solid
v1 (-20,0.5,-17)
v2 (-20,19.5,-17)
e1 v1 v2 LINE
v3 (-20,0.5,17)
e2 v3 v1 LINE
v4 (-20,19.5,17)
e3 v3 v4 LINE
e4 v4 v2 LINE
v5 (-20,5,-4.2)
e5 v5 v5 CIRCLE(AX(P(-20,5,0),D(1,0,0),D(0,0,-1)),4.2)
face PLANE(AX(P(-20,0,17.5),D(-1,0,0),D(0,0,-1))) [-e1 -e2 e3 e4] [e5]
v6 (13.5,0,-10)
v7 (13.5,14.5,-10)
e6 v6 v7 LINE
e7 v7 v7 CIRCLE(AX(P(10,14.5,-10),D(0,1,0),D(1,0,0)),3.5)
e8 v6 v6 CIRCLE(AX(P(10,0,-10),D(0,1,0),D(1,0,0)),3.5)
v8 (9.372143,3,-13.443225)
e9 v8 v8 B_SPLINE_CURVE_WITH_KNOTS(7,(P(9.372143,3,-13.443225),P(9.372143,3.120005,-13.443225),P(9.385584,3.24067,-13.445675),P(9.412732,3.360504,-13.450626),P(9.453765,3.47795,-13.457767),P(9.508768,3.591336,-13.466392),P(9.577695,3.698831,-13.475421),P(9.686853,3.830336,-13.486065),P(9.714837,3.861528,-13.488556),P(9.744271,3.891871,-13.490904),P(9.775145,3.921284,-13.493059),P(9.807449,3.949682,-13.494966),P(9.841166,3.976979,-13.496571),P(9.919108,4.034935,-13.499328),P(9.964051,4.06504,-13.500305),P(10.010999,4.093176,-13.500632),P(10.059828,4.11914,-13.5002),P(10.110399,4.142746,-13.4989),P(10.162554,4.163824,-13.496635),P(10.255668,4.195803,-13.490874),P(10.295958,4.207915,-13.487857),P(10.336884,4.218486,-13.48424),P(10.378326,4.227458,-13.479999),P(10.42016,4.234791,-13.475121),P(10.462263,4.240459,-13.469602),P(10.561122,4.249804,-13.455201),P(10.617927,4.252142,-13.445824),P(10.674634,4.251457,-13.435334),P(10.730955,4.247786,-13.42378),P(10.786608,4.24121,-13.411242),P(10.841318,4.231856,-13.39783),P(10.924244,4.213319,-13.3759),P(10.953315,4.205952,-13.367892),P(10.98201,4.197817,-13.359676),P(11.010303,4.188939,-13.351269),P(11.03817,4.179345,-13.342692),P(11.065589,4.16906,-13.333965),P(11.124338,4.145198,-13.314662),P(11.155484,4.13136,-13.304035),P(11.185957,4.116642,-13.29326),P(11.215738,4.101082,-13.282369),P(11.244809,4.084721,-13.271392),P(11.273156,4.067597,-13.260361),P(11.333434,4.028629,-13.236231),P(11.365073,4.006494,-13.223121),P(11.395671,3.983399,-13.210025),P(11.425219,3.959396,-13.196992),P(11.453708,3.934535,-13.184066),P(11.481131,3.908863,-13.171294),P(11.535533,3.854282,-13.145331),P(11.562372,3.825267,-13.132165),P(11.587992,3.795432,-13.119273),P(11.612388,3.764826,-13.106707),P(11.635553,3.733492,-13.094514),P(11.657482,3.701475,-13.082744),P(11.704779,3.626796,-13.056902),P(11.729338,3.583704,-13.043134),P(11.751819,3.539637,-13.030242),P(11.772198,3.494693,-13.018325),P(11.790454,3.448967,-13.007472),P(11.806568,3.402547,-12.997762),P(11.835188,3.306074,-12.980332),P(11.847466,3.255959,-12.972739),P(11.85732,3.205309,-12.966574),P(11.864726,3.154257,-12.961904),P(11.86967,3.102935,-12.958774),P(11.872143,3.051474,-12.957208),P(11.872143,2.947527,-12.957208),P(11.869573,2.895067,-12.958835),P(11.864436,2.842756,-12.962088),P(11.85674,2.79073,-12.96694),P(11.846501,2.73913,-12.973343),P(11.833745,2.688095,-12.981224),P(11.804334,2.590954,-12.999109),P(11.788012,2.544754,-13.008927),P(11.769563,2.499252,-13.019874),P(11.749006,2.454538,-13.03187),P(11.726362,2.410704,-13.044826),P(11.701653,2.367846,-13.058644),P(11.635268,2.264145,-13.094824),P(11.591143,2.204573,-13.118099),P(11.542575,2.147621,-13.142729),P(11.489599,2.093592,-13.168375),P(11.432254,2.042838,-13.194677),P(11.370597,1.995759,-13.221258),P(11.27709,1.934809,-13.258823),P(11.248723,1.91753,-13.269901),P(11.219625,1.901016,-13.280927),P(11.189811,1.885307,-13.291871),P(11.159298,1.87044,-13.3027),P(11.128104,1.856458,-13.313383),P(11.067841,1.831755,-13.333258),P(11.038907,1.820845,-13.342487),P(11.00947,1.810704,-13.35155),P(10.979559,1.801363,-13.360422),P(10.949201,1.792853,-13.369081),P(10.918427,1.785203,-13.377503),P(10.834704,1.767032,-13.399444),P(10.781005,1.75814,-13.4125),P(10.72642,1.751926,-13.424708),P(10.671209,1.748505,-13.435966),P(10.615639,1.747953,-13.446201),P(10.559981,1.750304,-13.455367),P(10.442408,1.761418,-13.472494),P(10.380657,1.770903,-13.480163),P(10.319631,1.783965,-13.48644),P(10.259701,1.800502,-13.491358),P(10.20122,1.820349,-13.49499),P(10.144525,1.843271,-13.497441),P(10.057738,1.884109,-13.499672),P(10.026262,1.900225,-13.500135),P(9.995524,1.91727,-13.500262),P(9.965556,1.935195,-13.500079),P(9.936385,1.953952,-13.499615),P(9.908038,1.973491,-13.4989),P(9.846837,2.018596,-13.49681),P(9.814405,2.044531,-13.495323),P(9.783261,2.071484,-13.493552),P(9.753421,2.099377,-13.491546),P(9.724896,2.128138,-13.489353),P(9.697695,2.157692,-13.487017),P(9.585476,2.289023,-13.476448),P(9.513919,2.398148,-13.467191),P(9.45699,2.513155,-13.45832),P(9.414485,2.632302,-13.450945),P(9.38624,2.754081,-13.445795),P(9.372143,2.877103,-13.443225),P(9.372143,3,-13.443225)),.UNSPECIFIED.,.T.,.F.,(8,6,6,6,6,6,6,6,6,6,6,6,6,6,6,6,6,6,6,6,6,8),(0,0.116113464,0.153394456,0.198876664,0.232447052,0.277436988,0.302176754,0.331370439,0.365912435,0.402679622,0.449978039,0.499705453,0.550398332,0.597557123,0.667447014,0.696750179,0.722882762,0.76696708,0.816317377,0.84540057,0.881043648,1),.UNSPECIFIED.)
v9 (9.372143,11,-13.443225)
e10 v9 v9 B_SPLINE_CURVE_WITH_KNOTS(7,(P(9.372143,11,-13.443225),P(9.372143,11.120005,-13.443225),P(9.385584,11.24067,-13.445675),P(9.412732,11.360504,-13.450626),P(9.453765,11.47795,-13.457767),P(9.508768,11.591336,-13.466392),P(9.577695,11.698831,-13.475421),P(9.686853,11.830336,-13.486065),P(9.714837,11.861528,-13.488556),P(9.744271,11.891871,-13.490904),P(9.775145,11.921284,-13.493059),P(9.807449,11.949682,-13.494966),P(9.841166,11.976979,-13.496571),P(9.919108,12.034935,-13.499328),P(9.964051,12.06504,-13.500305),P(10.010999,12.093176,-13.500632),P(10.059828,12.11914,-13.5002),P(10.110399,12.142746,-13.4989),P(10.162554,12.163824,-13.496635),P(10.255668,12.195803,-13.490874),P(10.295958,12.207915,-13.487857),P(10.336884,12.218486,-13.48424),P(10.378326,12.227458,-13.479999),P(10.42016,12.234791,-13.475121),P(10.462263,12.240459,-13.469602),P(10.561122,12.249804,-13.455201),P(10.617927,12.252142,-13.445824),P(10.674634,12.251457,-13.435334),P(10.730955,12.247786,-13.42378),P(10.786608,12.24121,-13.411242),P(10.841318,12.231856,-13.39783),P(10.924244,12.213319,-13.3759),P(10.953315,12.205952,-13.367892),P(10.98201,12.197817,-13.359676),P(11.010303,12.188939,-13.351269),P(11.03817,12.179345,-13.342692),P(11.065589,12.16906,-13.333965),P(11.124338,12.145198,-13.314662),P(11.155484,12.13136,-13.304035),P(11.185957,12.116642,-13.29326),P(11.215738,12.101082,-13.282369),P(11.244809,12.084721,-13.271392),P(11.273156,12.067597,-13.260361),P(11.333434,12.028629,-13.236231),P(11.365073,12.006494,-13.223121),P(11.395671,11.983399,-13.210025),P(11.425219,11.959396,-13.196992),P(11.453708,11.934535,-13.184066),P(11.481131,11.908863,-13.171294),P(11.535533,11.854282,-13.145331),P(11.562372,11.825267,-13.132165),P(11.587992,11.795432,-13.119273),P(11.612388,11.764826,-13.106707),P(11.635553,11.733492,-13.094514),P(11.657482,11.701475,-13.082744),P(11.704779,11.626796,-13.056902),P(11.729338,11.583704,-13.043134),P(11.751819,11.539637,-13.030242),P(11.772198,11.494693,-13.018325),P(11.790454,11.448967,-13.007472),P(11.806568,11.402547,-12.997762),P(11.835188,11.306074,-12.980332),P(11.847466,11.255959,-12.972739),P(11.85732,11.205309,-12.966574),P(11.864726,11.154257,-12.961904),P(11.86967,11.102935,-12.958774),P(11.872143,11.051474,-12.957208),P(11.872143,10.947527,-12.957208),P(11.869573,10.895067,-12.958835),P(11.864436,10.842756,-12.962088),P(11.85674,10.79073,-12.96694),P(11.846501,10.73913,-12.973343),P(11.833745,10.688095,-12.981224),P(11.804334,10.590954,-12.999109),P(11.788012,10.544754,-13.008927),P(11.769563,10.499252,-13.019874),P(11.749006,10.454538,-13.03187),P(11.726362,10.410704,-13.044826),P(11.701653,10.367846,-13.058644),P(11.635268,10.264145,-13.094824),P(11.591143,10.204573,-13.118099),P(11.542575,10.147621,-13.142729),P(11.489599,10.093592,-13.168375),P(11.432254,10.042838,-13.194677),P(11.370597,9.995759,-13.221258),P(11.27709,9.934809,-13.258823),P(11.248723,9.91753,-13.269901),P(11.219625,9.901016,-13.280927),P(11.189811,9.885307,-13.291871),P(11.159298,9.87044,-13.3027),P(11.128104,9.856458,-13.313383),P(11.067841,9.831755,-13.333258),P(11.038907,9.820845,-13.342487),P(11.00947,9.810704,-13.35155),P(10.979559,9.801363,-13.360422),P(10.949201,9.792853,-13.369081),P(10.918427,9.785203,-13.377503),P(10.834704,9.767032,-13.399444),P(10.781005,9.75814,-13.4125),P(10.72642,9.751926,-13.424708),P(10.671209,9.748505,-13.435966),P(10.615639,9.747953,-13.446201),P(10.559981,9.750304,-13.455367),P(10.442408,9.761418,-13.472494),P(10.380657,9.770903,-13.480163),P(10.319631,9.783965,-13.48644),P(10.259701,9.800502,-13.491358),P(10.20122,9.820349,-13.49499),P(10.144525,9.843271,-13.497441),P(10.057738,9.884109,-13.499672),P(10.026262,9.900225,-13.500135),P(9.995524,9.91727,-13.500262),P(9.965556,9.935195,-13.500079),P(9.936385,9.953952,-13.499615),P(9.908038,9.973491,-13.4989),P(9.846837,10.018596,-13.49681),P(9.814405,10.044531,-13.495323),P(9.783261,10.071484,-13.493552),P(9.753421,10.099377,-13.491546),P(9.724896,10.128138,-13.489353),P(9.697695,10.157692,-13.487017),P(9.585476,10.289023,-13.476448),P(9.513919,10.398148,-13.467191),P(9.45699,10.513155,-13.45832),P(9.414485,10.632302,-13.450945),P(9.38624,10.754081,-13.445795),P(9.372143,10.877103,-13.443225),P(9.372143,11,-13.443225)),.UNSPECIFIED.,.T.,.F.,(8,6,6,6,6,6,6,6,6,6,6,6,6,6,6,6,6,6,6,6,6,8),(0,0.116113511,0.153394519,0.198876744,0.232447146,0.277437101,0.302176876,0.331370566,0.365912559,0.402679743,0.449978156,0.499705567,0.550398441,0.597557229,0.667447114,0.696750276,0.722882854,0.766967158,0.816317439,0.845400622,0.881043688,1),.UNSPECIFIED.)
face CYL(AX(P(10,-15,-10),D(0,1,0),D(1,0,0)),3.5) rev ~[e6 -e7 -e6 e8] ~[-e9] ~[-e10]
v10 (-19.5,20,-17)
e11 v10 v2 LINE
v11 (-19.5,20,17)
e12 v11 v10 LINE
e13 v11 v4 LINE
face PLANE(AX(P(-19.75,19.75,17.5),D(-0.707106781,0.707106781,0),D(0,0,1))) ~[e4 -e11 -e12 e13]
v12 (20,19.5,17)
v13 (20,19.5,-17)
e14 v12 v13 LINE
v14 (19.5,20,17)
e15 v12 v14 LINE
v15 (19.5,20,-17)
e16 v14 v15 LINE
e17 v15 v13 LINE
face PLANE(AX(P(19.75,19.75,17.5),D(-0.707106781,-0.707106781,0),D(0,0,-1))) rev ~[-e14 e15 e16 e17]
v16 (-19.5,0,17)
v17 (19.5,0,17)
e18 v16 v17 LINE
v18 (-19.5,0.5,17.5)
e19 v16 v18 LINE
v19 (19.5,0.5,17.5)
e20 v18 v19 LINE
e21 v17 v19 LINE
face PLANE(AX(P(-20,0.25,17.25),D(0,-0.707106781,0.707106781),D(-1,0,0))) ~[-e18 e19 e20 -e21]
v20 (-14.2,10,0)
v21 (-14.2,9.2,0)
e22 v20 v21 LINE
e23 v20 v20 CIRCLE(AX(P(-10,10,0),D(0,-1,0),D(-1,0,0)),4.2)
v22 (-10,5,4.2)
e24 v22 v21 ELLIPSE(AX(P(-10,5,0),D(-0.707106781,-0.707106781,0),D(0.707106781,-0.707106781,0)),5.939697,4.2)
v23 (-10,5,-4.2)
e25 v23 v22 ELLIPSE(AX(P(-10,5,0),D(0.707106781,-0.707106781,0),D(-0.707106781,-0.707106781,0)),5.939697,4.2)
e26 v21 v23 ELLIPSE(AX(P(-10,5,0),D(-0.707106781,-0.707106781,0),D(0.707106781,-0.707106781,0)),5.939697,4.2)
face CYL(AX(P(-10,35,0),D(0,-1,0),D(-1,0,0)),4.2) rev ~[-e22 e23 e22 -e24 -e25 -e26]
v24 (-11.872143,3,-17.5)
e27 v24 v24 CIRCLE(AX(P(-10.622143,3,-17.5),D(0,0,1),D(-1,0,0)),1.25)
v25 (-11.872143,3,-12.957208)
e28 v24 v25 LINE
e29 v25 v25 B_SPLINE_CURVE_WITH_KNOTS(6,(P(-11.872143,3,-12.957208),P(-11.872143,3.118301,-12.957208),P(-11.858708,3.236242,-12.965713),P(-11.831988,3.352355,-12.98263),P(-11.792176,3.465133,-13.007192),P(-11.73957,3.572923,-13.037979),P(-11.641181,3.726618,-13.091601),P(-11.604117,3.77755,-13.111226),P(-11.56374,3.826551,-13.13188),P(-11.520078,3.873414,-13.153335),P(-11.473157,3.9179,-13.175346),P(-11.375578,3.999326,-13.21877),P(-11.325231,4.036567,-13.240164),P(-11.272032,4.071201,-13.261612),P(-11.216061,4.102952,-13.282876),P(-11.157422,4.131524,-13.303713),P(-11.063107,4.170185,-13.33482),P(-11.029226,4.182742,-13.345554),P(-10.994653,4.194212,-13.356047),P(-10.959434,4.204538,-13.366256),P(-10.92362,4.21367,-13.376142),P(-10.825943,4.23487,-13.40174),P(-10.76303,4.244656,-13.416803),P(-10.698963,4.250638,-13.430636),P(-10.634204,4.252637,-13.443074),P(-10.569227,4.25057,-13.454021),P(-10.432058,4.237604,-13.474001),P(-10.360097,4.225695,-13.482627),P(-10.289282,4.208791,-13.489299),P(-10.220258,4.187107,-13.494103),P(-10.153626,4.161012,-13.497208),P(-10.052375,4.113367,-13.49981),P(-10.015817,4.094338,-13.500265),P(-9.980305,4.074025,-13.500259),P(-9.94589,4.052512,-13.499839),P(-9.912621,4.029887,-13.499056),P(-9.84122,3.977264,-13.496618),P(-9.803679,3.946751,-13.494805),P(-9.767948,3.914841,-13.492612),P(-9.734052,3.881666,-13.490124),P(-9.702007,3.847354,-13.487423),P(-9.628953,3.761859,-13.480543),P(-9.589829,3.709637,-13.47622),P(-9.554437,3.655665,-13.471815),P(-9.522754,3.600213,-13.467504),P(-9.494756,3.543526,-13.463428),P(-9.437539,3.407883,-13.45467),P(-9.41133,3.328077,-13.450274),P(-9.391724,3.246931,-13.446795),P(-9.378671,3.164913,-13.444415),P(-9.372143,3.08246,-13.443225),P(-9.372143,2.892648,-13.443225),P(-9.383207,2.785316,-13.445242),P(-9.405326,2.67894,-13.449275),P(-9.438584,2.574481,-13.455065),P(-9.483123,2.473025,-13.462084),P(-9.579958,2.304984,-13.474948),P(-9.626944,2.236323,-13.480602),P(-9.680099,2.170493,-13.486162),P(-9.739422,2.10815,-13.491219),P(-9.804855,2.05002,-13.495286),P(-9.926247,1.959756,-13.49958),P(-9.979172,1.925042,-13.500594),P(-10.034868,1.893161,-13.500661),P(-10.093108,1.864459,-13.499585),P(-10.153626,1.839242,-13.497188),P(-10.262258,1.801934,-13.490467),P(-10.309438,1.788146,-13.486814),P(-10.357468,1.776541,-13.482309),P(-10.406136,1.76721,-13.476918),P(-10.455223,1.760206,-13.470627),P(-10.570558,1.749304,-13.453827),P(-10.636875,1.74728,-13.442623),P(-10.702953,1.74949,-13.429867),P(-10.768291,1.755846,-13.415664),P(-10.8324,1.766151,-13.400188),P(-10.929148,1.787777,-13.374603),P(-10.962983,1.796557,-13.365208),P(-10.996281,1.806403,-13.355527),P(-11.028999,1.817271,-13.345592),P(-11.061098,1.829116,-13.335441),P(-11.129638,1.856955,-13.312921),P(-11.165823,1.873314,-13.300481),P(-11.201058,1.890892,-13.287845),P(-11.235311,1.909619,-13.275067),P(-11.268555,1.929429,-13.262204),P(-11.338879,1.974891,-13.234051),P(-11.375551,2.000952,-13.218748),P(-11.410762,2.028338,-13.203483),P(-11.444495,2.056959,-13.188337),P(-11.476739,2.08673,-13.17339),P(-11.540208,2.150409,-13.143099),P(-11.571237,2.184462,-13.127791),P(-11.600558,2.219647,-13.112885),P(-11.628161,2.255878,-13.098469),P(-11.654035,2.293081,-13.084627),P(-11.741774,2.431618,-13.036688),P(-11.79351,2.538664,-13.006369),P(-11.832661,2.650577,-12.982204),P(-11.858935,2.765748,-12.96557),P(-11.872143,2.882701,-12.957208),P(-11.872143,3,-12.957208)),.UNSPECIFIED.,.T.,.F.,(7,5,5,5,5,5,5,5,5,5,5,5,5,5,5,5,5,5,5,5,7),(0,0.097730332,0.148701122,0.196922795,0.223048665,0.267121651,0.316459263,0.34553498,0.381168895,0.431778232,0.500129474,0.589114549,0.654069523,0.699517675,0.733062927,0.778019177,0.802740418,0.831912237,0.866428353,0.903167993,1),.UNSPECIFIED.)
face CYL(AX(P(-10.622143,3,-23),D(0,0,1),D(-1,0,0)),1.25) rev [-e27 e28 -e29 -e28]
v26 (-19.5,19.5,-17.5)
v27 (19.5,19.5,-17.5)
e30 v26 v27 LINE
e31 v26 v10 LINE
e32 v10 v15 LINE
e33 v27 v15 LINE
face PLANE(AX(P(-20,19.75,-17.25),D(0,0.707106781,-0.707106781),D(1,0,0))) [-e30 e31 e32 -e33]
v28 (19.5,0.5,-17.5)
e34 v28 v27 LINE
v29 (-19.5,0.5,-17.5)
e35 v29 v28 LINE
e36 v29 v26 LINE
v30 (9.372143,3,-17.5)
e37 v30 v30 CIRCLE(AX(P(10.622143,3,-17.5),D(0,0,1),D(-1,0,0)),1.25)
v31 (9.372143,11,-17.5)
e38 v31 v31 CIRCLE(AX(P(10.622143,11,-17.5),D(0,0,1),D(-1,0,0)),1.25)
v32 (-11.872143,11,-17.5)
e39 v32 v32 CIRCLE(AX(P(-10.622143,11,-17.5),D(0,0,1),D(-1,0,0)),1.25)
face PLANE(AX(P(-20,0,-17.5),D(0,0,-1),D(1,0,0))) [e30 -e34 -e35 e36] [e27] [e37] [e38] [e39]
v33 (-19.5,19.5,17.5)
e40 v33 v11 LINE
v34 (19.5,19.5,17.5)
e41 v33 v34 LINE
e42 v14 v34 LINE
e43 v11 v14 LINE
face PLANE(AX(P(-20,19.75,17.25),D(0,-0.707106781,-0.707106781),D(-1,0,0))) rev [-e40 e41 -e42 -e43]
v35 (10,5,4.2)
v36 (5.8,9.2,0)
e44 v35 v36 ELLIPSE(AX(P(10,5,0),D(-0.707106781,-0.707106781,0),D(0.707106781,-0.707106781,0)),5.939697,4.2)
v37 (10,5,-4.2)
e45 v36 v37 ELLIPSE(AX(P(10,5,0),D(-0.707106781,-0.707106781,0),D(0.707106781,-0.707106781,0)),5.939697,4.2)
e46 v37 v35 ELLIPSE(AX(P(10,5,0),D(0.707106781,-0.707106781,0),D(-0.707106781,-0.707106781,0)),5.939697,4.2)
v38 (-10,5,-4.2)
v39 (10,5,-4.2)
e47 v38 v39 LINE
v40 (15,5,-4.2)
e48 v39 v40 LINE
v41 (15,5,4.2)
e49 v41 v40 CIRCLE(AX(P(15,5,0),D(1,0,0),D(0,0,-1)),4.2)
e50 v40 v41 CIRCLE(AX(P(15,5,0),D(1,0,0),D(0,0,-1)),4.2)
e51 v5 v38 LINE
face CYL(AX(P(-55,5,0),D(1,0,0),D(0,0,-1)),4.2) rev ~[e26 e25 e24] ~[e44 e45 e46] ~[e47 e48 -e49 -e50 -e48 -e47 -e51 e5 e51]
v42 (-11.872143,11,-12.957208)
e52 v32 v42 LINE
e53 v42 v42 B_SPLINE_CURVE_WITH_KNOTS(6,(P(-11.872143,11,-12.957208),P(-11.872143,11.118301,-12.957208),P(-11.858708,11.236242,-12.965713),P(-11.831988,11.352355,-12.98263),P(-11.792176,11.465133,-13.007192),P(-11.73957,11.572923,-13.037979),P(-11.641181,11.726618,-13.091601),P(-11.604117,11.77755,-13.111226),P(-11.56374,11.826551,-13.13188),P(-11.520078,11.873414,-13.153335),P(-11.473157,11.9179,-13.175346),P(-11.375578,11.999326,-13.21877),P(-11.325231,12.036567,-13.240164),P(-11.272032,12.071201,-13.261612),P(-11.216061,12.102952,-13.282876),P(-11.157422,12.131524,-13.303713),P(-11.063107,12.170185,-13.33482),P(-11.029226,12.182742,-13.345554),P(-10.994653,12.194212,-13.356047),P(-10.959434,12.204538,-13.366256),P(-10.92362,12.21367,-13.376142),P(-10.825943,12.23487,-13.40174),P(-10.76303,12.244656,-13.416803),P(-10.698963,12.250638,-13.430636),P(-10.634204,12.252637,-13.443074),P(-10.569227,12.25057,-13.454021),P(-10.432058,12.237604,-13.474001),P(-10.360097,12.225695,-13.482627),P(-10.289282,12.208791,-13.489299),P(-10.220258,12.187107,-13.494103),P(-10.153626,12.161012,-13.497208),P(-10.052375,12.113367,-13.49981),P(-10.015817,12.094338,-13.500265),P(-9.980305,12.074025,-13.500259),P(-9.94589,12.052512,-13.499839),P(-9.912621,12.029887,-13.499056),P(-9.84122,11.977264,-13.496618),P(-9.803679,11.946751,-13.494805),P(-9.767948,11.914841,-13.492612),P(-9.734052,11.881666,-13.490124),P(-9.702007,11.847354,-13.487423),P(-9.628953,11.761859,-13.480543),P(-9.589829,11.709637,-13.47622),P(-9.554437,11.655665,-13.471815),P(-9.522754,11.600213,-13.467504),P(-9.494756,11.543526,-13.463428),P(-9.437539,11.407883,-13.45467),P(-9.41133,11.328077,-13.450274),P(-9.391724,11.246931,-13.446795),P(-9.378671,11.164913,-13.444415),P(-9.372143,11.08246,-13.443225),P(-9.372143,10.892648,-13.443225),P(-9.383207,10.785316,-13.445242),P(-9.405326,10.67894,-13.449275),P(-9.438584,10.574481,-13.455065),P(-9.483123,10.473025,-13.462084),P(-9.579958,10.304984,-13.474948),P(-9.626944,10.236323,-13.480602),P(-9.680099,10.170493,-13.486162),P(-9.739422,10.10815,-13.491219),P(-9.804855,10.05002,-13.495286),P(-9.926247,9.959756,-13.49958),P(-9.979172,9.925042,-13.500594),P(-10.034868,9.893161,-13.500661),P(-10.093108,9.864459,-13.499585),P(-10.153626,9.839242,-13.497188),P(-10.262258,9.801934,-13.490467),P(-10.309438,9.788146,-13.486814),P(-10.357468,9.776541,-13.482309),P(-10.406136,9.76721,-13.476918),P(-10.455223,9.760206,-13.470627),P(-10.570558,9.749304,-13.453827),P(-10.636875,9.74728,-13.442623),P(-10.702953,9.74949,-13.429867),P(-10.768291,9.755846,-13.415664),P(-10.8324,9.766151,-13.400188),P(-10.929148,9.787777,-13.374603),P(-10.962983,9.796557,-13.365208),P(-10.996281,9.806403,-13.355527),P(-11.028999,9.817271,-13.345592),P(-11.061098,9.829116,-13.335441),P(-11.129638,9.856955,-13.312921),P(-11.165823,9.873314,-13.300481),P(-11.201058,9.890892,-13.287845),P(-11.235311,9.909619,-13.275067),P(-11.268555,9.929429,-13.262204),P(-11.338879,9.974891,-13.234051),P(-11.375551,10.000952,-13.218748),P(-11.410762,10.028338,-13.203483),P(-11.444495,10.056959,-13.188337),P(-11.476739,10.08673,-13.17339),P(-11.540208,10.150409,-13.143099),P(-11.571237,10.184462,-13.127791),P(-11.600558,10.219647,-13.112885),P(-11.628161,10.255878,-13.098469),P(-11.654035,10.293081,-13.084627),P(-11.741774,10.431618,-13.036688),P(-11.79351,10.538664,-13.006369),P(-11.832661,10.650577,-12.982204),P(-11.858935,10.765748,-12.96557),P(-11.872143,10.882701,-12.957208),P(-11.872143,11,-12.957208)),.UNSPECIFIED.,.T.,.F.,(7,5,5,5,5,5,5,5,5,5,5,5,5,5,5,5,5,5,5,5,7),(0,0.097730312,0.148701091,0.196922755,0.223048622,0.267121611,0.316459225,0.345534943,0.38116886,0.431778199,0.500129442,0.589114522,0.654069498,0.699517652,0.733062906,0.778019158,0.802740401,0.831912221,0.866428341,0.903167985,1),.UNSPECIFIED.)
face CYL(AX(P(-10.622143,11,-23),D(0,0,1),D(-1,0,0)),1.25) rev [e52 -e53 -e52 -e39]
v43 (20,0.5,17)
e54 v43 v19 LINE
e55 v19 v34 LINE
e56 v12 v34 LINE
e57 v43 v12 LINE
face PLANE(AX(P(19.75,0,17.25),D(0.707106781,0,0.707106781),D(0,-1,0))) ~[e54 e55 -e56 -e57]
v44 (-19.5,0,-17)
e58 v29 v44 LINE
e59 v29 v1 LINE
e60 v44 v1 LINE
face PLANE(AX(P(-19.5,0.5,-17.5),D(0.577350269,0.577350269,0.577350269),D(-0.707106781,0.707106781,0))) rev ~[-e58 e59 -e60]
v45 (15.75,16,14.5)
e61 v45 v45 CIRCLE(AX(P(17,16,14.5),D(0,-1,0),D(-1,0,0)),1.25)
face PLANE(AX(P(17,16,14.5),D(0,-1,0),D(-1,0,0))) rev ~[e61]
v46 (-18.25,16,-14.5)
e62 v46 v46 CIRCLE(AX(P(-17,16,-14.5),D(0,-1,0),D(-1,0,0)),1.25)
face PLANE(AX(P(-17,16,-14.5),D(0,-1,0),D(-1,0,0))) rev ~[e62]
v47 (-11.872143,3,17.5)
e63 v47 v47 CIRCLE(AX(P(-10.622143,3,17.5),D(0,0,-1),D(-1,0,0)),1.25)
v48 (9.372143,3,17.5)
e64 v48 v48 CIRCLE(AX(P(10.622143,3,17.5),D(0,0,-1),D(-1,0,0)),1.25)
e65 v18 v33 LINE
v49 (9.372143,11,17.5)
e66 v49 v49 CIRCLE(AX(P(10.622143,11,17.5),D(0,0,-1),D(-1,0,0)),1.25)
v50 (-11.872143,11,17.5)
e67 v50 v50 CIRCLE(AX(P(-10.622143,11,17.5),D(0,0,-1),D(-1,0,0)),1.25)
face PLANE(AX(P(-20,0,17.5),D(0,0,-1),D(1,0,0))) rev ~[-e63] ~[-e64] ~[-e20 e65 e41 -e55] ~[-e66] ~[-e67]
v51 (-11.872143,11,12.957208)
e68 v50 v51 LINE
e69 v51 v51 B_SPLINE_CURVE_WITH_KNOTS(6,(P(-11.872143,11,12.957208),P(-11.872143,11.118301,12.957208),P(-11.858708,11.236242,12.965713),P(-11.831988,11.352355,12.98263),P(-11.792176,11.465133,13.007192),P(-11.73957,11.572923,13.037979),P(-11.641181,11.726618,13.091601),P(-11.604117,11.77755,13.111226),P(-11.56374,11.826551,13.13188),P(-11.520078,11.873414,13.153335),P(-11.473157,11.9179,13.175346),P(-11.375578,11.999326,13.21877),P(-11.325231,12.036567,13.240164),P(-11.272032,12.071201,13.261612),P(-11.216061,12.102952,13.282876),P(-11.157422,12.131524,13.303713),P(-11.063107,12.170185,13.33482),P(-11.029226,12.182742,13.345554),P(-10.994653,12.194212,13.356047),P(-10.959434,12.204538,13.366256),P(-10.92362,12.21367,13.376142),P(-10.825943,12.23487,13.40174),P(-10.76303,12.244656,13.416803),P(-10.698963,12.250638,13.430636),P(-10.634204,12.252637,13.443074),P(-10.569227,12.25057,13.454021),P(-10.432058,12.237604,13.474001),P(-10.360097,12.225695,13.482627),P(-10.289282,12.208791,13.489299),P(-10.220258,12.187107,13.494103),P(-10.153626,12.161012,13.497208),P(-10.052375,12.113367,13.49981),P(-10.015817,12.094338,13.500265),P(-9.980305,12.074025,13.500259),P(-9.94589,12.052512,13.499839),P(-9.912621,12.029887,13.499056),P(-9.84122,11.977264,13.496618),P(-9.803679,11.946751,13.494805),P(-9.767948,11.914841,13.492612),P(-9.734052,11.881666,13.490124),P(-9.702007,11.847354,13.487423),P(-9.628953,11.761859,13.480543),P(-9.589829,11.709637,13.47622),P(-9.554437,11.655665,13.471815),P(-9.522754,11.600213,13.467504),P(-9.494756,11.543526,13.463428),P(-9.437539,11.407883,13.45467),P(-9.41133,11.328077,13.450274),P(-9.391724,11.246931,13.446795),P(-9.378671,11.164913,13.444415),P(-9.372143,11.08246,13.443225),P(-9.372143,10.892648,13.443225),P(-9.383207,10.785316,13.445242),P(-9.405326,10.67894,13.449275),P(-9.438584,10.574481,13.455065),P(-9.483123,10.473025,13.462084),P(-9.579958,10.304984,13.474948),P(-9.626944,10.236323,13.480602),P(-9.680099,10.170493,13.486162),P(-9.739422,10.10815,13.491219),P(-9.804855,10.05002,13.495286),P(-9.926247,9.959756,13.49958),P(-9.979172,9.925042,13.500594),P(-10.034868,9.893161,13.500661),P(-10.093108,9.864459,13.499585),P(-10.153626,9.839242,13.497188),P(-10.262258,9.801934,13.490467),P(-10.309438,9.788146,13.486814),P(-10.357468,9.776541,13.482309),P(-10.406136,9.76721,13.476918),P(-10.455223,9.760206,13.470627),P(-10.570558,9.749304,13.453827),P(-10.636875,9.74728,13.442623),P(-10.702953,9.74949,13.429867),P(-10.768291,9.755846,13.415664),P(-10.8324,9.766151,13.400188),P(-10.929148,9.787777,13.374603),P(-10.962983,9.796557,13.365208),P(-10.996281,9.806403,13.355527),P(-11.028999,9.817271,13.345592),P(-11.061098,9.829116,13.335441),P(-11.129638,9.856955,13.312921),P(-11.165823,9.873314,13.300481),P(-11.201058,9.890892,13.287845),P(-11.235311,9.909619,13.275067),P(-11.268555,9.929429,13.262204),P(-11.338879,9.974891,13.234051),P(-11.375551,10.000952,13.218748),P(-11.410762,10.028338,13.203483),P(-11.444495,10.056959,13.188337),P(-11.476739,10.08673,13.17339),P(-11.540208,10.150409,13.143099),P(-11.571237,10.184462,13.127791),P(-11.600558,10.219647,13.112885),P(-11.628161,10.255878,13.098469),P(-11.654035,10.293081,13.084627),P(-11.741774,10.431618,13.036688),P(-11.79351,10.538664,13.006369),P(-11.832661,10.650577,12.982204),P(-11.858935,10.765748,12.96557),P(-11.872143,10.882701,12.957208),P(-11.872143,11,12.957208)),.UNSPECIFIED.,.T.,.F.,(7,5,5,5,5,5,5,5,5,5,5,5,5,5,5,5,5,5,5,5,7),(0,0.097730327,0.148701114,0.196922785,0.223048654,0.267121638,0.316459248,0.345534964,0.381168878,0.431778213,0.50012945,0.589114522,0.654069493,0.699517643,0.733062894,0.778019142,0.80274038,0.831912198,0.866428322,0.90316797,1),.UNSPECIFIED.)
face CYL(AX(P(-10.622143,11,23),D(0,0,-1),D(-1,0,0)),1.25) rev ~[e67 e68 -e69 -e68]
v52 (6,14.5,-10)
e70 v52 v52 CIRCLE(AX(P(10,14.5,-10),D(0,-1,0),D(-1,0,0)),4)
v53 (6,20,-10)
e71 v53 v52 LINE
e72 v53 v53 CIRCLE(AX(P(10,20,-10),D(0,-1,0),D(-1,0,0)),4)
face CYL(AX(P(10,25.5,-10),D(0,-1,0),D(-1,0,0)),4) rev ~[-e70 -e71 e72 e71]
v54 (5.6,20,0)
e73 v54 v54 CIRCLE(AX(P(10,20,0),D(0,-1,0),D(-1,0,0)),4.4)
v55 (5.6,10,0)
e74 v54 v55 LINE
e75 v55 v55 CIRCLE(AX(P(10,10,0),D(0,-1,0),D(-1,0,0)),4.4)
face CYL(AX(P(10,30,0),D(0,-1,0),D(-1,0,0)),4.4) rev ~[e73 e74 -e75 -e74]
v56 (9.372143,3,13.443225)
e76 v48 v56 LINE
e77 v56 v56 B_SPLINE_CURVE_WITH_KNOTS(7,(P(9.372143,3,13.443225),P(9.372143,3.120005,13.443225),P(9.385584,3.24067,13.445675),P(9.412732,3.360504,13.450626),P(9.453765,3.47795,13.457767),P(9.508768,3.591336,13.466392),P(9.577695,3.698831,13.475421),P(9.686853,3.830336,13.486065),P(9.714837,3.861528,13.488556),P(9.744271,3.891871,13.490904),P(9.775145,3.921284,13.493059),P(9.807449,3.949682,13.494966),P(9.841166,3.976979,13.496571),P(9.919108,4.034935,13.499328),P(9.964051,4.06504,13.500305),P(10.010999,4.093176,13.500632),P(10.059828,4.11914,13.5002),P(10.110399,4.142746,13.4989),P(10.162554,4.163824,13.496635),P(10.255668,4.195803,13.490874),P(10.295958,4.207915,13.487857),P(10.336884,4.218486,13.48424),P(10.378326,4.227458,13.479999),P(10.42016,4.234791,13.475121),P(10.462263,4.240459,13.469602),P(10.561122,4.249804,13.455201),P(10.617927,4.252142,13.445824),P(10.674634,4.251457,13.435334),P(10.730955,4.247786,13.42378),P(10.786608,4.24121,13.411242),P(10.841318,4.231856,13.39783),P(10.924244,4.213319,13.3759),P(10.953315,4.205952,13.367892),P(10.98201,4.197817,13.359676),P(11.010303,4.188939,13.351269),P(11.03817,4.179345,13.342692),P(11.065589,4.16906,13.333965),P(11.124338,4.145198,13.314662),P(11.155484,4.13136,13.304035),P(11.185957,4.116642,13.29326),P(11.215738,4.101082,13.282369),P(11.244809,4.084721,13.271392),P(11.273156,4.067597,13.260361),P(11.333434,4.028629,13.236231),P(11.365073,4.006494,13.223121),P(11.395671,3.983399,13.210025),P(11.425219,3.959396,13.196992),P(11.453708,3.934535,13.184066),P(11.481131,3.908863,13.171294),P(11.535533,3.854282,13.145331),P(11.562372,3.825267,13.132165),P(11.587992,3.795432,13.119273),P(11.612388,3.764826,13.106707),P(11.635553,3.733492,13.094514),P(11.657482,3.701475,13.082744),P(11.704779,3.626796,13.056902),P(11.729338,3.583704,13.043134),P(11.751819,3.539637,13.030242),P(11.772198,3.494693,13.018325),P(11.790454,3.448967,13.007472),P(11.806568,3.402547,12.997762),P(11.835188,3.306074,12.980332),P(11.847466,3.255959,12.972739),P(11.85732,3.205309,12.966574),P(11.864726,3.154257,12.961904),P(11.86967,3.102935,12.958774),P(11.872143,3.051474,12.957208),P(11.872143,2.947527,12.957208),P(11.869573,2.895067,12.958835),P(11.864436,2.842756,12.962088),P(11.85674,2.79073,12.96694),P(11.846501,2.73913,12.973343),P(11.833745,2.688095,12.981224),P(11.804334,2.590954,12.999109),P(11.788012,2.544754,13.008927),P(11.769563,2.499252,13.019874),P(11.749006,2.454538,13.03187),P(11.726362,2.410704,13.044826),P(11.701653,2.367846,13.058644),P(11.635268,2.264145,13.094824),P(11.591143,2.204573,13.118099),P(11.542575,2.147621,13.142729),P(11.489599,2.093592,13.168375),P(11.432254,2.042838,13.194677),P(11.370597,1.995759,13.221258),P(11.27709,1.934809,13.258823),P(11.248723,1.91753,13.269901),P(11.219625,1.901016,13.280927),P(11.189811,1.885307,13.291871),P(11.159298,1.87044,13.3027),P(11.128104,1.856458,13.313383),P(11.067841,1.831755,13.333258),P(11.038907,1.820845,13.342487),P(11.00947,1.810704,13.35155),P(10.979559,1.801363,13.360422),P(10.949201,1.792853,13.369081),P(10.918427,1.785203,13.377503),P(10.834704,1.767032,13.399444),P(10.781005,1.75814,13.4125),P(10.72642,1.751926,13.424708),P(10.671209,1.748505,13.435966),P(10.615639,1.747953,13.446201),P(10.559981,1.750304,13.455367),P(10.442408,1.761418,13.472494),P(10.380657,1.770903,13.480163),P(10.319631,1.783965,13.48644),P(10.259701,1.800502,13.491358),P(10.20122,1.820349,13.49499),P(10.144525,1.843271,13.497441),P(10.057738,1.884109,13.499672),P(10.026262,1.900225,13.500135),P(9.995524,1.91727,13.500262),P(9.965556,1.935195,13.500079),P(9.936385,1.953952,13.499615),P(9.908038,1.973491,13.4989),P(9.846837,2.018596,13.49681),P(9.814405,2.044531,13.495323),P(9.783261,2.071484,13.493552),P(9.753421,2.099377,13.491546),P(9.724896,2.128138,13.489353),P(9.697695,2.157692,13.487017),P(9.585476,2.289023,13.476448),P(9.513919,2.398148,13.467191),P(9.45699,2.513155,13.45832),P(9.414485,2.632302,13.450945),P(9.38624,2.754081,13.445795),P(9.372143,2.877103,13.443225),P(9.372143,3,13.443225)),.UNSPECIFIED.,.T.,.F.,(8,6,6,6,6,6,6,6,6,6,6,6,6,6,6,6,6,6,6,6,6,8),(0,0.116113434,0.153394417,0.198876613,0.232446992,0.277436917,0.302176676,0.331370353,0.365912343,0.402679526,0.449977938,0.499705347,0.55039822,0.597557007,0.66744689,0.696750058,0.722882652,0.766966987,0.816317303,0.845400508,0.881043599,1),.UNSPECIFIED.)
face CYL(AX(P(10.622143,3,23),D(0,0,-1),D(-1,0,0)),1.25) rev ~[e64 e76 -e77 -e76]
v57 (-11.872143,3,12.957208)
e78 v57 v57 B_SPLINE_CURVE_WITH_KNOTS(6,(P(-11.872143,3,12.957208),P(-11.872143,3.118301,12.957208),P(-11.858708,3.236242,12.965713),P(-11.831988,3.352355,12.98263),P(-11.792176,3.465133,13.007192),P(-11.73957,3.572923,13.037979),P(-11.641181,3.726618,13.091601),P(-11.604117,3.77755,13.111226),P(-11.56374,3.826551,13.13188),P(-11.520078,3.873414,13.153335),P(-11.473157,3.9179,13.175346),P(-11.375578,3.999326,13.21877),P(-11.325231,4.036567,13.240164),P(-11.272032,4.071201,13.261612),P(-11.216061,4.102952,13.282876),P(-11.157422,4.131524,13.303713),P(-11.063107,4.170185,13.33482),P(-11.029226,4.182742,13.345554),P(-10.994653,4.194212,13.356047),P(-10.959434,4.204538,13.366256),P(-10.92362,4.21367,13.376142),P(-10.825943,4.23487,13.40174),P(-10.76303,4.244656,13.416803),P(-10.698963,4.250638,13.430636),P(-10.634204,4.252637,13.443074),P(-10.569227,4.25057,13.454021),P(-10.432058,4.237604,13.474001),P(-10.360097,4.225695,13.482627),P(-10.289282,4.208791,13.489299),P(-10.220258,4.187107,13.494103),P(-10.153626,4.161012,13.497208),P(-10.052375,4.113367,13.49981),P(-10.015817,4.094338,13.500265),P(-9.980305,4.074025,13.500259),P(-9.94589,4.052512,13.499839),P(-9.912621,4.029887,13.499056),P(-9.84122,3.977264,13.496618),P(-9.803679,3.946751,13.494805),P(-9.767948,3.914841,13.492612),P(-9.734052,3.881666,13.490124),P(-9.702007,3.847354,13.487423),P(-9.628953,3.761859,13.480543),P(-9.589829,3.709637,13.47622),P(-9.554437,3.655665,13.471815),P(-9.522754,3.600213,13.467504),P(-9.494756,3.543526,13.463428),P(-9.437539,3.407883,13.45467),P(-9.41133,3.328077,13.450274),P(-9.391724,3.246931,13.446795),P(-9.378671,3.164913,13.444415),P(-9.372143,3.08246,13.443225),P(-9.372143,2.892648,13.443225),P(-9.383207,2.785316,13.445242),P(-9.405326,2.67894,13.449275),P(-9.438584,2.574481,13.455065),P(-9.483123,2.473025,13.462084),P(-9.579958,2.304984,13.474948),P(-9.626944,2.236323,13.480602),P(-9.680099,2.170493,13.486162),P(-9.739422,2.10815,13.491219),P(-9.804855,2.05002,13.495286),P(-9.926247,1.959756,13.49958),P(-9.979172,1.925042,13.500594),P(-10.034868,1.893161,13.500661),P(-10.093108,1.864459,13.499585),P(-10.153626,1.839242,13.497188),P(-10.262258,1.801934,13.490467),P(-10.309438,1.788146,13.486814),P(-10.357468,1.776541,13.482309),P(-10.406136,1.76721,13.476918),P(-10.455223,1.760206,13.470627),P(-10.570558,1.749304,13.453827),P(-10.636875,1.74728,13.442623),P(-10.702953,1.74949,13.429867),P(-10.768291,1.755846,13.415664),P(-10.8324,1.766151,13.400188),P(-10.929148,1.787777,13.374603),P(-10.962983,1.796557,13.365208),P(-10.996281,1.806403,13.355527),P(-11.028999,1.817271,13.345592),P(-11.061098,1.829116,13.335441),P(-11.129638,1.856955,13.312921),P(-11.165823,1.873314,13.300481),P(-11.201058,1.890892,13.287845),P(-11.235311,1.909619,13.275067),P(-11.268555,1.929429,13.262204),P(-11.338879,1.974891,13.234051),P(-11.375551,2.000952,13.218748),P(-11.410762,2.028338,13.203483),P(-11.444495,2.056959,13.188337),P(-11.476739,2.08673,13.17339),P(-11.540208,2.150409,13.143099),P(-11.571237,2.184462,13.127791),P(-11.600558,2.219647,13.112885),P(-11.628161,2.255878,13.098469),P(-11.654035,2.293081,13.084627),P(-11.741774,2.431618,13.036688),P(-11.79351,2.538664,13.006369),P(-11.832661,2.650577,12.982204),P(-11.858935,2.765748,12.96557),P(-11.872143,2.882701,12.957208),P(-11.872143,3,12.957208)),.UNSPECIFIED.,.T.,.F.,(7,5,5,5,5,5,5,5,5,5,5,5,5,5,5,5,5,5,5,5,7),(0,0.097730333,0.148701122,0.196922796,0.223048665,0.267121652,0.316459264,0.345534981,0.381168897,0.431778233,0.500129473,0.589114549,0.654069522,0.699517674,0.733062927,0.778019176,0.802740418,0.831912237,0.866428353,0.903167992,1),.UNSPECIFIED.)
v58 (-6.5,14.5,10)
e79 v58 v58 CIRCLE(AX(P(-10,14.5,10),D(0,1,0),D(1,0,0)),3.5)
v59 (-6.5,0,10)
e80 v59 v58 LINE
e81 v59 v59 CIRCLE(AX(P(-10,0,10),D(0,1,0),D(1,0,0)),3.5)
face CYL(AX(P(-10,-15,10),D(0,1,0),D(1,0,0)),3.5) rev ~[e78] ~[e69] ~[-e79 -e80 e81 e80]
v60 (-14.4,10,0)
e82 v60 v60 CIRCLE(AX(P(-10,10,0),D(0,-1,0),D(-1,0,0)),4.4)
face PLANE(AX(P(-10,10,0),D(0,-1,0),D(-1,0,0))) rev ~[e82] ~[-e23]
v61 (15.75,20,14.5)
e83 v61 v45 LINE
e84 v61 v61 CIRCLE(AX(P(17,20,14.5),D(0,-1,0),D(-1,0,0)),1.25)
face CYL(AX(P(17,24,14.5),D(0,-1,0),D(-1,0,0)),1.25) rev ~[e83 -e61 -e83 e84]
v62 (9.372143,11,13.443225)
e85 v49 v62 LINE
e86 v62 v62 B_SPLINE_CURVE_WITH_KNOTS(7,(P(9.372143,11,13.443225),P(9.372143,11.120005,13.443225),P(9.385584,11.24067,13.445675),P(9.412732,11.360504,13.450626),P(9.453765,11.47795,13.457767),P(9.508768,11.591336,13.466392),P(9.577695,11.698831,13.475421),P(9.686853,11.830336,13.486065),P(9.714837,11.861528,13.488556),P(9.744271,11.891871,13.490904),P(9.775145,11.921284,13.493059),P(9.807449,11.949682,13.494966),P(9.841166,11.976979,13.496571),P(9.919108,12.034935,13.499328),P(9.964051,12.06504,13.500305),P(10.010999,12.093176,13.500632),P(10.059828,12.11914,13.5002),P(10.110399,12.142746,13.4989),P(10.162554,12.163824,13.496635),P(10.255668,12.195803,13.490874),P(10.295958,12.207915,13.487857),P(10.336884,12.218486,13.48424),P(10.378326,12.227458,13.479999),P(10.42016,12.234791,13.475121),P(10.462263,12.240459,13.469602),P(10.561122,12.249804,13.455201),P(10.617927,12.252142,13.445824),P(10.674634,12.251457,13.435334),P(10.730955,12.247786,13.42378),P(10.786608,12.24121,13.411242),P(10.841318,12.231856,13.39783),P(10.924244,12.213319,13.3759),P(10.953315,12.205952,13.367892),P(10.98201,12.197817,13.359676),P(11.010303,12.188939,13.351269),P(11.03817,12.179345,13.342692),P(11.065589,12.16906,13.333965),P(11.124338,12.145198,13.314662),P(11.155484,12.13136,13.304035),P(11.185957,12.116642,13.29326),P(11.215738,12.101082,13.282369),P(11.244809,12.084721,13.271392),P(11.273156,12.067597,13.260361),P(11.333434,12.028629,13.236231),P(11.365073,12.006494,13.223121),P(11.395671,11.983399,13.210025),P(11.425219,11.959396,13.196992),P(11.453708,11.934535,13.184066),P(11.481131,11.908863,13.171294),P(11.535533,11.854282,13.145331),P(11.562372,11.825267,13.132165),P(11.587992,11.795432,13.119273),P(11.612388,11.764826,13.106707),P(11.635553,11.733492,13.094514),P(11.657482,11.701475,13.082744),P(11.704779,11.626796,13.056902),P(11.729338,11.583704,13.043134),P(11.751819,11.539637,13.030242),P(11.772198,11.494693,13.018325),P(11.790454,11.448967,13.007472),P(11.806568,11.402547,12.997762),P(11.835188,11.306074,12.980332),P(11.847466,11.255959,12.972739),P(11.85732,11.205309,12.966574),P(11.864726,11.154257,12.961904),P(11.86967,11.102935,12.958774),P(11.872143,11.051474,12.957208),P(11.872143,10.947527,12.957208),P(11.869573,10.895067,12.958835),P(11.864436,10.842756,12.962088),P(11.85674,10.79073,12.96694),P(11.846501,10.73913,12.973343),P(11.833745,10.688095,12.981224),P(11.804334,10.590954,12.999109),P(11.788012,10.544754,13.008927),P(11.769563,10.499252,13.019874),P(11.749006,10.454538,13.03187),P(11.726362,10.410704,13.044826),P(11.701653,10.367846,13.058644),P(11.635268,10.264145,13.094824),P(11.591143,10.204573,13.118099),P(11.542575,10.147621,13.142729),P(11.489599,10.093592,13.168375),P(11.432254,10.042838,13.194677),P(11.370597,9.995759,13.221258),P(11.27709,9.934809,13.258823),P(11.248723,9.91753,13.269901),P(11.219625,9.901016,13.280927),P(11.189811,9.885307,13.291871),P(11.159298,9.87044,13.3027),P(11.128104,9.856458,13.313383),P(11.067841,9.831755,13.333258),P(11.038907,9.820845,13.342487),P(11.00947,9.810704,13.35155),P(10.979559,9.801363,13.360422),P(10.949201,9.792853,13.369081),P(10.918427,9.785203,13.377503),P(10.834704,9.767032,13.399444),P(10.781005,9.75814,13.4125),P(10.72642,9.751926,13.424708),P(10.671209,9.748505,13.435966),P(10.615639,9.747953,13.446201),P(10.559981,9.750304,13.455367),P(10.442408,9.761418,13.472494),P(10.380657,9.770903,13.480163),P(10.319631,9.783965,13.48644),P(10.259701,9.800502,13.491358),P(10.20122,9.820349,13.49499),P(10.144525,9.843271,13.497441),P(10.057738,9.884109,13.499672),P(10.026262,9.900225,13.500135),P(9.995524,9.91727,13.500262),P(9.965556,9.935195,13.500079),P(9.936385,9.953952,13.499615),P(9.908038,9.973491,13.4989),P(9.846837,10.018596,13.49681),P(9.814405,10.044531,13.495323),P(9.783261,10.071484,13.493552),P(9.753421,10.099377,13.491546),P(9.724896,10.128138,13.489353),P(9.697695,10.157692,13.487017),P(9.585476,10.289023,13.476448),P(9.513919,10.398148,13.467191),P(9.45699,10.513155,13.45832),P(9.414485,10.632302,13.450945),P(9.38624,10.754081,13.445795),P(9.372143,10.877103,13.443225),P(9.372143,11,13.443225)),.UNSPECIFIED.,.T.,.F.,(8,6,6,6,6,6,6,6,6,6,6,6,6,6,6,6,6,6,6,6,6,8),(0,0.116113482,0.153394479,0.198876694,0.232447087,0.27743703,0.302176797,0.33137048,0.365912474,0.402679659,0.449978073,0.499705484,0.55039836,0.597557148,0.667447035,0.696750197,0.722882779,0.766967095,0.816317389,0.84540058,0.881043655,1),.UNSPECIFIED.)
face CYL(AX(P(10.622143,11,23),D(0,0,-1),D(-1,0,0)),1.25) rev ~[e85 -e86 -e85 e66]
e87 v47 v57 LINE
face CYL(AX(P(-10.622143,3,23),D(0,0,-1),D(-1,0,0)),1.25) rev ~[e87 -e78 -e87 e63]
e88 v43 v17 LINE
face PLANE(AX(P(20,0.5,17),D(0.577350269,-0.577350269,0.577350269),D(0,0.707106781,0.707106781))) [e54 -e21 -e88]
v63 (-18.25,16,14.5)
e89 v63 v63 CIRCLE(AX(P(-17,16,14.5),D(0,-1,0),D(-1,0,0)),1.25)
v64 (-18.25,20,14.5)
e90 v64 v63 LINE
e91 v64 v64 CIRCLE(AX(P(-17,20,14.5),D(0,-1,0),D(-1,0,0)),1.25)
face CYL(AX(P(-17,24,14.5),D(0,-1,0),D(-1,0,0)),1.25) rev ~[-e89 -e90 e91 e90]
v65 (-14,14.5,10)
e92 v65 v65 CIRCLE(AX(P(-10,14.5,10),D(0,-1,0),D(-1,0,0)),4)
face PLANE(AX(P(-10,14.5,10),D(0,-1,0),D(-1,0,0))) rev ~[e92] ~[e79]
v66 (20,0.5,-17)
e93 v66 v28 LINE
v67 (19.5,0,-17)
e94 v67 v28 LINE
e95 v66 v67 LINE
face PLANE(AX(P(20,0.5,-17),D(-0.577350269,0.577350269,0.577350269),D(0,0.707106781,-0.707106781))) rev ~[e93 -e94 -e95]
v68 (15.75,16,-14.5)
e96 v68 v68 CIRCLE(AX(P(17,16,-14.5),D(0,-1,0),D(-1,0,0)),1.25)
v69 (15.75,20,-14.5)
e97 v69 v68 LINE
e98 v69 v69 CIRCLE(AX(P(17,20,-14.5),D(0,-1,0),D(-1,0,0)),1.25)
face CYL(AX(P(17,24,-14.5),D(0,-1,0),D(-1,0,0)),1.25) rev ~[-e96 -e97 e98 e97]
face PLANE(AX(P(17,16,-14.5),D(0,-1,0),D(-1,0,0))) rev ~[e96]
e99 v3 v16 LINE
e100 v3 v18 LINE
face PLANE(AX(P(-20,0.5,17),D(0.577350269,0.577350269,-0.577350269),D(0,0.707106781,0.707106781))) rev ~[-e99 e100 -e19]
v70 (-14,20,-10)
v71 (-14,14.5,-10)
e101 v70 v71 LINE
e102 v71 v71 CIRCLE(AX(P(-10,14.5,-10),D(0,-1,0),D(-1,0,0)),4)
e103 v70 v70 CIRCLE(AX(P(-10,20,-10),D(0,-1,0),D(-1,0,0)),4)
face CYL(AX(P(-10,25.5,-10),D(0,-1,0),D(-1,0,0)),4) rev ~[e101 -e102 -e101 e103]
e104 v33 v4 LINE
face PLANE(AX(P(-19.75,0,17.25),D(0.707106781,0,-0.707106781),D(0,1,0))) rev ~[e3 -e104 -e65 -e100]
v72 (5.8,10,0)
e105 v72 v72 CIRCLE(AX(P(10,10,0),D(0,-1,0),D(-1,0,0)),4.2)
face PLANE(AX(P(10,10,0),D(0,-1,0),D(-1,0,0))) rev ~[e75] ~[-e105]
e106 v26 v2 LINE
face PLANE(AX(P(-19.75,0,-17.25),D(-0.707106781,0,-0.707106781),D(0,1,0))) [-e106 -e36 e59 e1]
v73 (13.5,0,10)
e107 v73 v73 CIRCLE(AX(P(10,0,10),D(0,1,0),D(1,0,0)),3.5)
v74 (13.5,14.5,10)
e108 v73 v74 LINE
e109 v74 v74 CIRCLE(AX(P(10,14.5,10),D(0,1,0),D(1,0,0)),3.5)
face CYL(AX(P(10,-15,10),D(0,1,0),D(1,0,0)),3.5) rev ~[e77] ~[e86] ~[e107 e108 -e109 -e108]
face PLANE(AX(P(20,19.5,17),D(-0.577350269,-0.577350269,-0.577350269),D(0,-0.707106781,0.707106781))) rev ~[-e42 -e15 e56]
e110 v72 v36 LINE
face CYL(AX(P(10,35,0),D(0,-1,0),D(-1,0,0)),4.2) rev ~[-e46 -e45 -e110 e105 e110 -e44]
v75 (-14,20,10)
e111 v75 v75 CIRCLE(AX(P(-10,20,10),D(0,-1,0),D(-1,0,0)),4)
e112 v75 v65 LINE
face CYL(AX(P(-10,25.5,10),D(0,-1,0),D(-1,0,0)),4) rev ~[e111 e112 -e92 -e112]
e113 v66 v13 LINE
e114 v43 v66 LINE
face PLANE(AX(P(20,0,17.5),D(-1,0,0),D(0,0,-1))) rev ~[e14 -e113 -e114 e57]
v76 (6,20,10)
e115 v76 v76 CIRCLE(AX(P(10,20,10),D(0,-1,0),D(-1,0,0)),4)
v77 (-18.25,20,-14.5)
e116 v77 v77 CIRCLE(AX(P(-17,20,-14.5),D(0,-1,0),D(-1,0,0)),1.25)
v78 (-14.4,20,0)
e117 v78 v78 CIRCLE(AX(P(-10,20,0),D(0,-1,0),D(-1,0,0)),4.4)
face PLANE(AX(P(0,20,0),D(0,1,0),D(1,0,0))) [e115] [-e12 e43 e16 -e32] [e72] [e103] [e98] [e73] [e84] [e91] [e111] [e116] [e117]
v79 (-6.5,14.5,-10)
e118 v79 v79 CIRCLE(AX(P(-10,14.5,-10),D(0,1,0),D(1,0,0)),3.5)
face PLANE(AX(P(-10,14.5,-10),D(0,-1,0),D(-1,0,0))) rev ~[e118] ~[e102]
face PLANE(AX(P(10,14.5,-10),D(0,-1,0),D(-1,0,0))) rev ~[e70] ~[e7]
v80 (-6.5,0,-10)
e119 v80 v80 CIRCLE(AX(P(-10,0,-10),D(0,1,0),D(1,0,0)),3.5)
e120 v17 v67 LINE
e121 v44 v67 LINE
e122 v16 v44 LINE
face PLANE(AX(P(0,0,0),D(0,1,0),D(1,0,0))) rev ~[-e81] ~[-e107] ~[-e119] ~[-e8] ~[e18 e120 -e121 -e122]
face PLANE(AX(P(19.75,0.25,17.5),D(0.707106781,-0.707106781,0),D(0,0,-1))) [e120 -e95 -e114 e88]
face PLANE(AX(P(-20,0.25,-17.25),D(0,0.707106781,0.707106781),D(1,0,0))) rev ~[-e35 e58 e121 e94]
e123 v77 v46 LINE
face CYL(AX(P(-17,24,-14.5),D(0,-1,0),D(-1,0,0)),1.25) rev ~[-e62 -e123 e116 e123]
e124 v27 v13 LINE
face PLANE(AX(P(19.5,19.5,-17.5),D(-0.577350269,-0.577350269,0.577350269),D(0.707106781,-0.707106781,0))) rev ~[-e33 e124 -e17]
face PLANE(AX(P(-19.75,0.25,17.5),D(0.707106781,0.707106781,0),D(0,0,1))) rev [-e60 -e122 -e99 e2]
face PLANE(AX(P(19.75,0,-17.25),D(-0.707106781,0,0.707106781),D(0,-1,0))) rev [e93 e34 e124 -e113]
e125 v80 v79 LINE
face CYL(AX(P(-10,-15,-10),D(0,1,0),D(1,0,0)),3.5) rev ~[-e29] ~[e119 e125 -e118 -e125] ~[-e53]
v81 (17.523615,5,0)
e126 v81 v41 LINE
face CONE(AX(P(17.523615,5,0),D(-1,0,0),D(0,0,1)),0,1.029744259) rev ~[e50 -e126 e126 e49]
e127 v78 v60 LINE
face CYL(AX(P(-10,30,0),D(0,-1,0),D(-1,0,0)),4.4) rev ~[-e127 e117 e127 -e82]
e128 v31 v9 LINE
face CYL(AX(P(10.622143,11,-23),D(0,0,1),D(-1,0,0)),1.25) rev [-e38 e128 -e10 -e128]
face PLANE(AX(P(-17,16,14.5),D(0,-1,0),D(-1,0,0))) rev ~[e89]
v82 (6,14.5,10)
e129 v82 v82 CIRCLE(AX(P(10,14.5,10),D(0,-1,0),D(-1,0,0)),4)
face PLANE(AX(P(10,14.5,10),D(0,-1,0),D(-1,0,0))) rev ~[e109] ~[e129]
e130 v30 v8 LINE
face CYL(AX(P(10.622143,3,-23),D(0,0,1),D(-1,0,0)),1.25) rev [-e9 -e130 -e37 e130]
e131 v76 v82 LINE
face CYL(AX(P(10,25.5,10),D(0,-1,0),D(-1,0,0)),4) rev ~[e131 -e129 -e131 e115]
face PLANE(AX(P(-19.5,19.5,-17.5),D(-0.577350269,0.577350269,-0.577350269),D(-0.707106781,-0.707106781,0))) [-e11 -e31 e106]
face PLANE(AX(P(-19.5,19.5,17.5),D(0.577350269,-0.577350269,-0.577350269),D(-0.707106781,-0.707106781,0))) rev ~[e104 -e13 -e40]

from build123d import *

# Parameters (mm, degrees)
SKETCH1_W                       = 40
SKETCH1_H                       = 35
BOSS_EXTRUDE1_DEPTH             = 20
TAP_DRILL_FOR_M3X0_5_TAP1_D     = 2.5
TAP_DRILL_FOR_M3X0_5_TAP1_DEPTH = 4
F_8_4_8_4_DIAMETER_HOLE2_D      = 8.4
F_8_4_8_4_DIAMETER_HOLE2_DEPTH  = 15
F_8_4_8_4_DIAMETER_HOLE2_TIP    = 2.5236146
F_8_4_8_4_DIAMETER_HOLE1_D      = 8.4
F_8_4_8_4_DIAMETER_HOLE1_DEPTH  = 35
F_8_4_8_4_DIAMETER_HOLE1_TIP    = 2.5236146
F_7_0_7_DIAMETER_HOLE1_D        = 7
F_7_0_7_DIAMETER_HOLE1_DEPTH    = 15
F_7_0_7_DIAMETER_HOLE1_TIP      = 2.103012167
F_8_0_8_DIAMETER_HOLE1_D        = 8
F_8_0_8_DIAMETER_HOLE1_DEPTH    = 5.5
TAP_DRILL_FOR_M3X0_5_TAP2_D     = 2.5
TAP_DRILL_FOR_M3X0_5_TAP2_DEPTH = 5.5
CHAMFER1_SIZE                   = 0.5
G1_8_TAPPED_HOLE1_D             = 8.8
G1_8_TAPPED_HOLE1_DEPTH         = 10


with BuildPart() as part:
    # Sketch1 → Boss-Extrude1 (new body)
    with BuildSketch(Plane(origin=(0, 0, 0), x_dir=(1, 0, 0), z_dir=(0, 1, 0))):
        Rectangle(SKETCH1_W, SKETCH1_H)
    extrude(amount=BOSS_EXTRUDE1_DEPTH)

    # Tap Drill for M3x0.5 Tap1
    with Locations(Plane(origin=(0, 20, 0), x_dir=(1, 0, 0), z_dir=(0, 1, 0))):
        with Locations((-17, 14.5), (17, 14.5), (17, -14.5), (-17, -14.5)):
            Hole(TAP_DRILL_FOR_M3X0_5_TAP1_D / 2, depth=TAP_DRILL_FOR_M3X0_5_TAP1_DEPTH)

    # Ø8.4 (8.4) Diameter Hole2
    with Locations(Plane(origin=(0, 20, 0), x_dir=(1, 0, 0), z_dir=(0, 1, 0))):
        with Locations((-10, 0), (10, 0)):
            Hole(F_8_4_8_4_DIAMETER_HOLE2_D / 2, depth=F_8_4_8_4_DIAMETER_HOLE2_DEPTH)
            with Locations((0, 0, -(F_8_4_8_4_DIAMETER_HOLE2_DEPTH + F_8_4_8_4_DIAMETER_HOLE2_TIP / 2))):  # 118° drill point
                Cone(0, F_8_4_8_4_DIAMETER_HOLE2_D / 2, F_8_4_8_4_DIAMETER_HOLE2_TIP, mode=Mode.SUBTRACT)

    # Ø8.4 (8.4) Diameter Hole1
    with Locations(Plane.ZY.offset(20)):
        with Locations((0, 5)):
            Hole(F_8_4_8_4_DIAMETER_HOLE1_D / 2, depth=F_8_4_8_4_DIAMETER_HOLE1_DEPTH)
            with Locations((0, 0, -(F_8_4_8_4_DIAMETER_HOLE1_DEPTH + F_8_4_8_4_DIAMETER_HOLE1_TIP / 2))):  # 118° drill point
                Cone(0, F_8_4_8_4_DIAMETER_HOLE1_D / 2, F_8_4_8_4_DIAMETER_HOLE1_TIP, mode=Mode.SUBTRACT)

    # Ø7.0 (7) Diameter Hole1
    with Locations(Plane(origin=(0, 0, 0), x_dir=(-1, 0, 0), z_dir=(0, -1, 0))):
        with Locations((10, -10), (-10, -10), (-10, 10), (10, 10)):
            Hole(F_7_0_7_DIAMETER_HOLE1_D / 2, depth=F_7_0_7_DIAMETER_HOLE1_DEPTH)
            with Locations((0, 0, -(F_7_0_7_DIAMETER_HOLE1_DEPTH + F_7_0_7_DIAMETER_HOLE1_TIP / 2))):  # 118° drill point
                Cone(0, F_7_0_7_DIAMETER_HOLE1_D / 2, F_7_0_7_DIAMETER_HOLE1_TIP, mode=Mode.SUBTRACT)

    # Ø8.0 (8) Diameter Hole1
    with Locations(Plane(origin=(0, 20, 0), x_dir=(1, 0, 0), z_dir=(0, 1, 0))):
        with Locations((-10, 10), (10, 10), (10, -10), (-10, -10)):
            Hole(F_8_0_8_DIAMETER_HOLE1_D / 2, depth=F_8_0_8_DIAMETER_HOLE1_DEPTH)

    # Tap Drill for M3x0.5 Tap2
    with Locations(Plane.XY.offset(17.5)):
        with Locations((-10.622143035, 11), (-10.622143035, 3), (10.622143035, 3), (10.622143035, 11)):
            tap_drill_for_m3x0_5_tap2 = Hole(TAP_DRILL_FOR_M3X0_5_TAP2_D / 2, depth=TAP_DRILL_FOR_M3X0_5_TAP2_DEPTH)

    # Mirror1: Tap Drill for M3x0.5 Tap2 across plane
    add(tap_drill_for_m3x0_5_tap2.mirror(Plane.XY), mode=Mode.SUBTRACT)

    # Chamfer1
    chamfer1_edges = [part.edges().sort_by_distance(p)[0] for p in [
        (-20, 20, 0),
        (0, 20, 17.5),
        (20, 20, 0),
        (0, 0, 17.5),
        (-20, 0, 0),
        (0, 0, -17.5),
        (20, 0, 0),
        (0, 20, -17.5),
        (20, 10, 17.5),
        (-20, 10, 17.5),
        (-20, 10, -17.5),
        (20, 10, -17.5),
    ]]
    chamfer(chamfer1_edges, length=CHAMFER1_SIZE)

    # G1/8 Tapped Hole1
    with Locations(Plane(origin=(0, 20, 0), x_dir=(1, 0, 0), z_dir=(0, 1, 0))):
        with Locations((-10, 0), (10, 0)):
            Hole(G1_8_TAPPED_HOLE1_D / 2, depth=G1_8_TAPPED_HOLE1_DEPTH)


solid = part.part
